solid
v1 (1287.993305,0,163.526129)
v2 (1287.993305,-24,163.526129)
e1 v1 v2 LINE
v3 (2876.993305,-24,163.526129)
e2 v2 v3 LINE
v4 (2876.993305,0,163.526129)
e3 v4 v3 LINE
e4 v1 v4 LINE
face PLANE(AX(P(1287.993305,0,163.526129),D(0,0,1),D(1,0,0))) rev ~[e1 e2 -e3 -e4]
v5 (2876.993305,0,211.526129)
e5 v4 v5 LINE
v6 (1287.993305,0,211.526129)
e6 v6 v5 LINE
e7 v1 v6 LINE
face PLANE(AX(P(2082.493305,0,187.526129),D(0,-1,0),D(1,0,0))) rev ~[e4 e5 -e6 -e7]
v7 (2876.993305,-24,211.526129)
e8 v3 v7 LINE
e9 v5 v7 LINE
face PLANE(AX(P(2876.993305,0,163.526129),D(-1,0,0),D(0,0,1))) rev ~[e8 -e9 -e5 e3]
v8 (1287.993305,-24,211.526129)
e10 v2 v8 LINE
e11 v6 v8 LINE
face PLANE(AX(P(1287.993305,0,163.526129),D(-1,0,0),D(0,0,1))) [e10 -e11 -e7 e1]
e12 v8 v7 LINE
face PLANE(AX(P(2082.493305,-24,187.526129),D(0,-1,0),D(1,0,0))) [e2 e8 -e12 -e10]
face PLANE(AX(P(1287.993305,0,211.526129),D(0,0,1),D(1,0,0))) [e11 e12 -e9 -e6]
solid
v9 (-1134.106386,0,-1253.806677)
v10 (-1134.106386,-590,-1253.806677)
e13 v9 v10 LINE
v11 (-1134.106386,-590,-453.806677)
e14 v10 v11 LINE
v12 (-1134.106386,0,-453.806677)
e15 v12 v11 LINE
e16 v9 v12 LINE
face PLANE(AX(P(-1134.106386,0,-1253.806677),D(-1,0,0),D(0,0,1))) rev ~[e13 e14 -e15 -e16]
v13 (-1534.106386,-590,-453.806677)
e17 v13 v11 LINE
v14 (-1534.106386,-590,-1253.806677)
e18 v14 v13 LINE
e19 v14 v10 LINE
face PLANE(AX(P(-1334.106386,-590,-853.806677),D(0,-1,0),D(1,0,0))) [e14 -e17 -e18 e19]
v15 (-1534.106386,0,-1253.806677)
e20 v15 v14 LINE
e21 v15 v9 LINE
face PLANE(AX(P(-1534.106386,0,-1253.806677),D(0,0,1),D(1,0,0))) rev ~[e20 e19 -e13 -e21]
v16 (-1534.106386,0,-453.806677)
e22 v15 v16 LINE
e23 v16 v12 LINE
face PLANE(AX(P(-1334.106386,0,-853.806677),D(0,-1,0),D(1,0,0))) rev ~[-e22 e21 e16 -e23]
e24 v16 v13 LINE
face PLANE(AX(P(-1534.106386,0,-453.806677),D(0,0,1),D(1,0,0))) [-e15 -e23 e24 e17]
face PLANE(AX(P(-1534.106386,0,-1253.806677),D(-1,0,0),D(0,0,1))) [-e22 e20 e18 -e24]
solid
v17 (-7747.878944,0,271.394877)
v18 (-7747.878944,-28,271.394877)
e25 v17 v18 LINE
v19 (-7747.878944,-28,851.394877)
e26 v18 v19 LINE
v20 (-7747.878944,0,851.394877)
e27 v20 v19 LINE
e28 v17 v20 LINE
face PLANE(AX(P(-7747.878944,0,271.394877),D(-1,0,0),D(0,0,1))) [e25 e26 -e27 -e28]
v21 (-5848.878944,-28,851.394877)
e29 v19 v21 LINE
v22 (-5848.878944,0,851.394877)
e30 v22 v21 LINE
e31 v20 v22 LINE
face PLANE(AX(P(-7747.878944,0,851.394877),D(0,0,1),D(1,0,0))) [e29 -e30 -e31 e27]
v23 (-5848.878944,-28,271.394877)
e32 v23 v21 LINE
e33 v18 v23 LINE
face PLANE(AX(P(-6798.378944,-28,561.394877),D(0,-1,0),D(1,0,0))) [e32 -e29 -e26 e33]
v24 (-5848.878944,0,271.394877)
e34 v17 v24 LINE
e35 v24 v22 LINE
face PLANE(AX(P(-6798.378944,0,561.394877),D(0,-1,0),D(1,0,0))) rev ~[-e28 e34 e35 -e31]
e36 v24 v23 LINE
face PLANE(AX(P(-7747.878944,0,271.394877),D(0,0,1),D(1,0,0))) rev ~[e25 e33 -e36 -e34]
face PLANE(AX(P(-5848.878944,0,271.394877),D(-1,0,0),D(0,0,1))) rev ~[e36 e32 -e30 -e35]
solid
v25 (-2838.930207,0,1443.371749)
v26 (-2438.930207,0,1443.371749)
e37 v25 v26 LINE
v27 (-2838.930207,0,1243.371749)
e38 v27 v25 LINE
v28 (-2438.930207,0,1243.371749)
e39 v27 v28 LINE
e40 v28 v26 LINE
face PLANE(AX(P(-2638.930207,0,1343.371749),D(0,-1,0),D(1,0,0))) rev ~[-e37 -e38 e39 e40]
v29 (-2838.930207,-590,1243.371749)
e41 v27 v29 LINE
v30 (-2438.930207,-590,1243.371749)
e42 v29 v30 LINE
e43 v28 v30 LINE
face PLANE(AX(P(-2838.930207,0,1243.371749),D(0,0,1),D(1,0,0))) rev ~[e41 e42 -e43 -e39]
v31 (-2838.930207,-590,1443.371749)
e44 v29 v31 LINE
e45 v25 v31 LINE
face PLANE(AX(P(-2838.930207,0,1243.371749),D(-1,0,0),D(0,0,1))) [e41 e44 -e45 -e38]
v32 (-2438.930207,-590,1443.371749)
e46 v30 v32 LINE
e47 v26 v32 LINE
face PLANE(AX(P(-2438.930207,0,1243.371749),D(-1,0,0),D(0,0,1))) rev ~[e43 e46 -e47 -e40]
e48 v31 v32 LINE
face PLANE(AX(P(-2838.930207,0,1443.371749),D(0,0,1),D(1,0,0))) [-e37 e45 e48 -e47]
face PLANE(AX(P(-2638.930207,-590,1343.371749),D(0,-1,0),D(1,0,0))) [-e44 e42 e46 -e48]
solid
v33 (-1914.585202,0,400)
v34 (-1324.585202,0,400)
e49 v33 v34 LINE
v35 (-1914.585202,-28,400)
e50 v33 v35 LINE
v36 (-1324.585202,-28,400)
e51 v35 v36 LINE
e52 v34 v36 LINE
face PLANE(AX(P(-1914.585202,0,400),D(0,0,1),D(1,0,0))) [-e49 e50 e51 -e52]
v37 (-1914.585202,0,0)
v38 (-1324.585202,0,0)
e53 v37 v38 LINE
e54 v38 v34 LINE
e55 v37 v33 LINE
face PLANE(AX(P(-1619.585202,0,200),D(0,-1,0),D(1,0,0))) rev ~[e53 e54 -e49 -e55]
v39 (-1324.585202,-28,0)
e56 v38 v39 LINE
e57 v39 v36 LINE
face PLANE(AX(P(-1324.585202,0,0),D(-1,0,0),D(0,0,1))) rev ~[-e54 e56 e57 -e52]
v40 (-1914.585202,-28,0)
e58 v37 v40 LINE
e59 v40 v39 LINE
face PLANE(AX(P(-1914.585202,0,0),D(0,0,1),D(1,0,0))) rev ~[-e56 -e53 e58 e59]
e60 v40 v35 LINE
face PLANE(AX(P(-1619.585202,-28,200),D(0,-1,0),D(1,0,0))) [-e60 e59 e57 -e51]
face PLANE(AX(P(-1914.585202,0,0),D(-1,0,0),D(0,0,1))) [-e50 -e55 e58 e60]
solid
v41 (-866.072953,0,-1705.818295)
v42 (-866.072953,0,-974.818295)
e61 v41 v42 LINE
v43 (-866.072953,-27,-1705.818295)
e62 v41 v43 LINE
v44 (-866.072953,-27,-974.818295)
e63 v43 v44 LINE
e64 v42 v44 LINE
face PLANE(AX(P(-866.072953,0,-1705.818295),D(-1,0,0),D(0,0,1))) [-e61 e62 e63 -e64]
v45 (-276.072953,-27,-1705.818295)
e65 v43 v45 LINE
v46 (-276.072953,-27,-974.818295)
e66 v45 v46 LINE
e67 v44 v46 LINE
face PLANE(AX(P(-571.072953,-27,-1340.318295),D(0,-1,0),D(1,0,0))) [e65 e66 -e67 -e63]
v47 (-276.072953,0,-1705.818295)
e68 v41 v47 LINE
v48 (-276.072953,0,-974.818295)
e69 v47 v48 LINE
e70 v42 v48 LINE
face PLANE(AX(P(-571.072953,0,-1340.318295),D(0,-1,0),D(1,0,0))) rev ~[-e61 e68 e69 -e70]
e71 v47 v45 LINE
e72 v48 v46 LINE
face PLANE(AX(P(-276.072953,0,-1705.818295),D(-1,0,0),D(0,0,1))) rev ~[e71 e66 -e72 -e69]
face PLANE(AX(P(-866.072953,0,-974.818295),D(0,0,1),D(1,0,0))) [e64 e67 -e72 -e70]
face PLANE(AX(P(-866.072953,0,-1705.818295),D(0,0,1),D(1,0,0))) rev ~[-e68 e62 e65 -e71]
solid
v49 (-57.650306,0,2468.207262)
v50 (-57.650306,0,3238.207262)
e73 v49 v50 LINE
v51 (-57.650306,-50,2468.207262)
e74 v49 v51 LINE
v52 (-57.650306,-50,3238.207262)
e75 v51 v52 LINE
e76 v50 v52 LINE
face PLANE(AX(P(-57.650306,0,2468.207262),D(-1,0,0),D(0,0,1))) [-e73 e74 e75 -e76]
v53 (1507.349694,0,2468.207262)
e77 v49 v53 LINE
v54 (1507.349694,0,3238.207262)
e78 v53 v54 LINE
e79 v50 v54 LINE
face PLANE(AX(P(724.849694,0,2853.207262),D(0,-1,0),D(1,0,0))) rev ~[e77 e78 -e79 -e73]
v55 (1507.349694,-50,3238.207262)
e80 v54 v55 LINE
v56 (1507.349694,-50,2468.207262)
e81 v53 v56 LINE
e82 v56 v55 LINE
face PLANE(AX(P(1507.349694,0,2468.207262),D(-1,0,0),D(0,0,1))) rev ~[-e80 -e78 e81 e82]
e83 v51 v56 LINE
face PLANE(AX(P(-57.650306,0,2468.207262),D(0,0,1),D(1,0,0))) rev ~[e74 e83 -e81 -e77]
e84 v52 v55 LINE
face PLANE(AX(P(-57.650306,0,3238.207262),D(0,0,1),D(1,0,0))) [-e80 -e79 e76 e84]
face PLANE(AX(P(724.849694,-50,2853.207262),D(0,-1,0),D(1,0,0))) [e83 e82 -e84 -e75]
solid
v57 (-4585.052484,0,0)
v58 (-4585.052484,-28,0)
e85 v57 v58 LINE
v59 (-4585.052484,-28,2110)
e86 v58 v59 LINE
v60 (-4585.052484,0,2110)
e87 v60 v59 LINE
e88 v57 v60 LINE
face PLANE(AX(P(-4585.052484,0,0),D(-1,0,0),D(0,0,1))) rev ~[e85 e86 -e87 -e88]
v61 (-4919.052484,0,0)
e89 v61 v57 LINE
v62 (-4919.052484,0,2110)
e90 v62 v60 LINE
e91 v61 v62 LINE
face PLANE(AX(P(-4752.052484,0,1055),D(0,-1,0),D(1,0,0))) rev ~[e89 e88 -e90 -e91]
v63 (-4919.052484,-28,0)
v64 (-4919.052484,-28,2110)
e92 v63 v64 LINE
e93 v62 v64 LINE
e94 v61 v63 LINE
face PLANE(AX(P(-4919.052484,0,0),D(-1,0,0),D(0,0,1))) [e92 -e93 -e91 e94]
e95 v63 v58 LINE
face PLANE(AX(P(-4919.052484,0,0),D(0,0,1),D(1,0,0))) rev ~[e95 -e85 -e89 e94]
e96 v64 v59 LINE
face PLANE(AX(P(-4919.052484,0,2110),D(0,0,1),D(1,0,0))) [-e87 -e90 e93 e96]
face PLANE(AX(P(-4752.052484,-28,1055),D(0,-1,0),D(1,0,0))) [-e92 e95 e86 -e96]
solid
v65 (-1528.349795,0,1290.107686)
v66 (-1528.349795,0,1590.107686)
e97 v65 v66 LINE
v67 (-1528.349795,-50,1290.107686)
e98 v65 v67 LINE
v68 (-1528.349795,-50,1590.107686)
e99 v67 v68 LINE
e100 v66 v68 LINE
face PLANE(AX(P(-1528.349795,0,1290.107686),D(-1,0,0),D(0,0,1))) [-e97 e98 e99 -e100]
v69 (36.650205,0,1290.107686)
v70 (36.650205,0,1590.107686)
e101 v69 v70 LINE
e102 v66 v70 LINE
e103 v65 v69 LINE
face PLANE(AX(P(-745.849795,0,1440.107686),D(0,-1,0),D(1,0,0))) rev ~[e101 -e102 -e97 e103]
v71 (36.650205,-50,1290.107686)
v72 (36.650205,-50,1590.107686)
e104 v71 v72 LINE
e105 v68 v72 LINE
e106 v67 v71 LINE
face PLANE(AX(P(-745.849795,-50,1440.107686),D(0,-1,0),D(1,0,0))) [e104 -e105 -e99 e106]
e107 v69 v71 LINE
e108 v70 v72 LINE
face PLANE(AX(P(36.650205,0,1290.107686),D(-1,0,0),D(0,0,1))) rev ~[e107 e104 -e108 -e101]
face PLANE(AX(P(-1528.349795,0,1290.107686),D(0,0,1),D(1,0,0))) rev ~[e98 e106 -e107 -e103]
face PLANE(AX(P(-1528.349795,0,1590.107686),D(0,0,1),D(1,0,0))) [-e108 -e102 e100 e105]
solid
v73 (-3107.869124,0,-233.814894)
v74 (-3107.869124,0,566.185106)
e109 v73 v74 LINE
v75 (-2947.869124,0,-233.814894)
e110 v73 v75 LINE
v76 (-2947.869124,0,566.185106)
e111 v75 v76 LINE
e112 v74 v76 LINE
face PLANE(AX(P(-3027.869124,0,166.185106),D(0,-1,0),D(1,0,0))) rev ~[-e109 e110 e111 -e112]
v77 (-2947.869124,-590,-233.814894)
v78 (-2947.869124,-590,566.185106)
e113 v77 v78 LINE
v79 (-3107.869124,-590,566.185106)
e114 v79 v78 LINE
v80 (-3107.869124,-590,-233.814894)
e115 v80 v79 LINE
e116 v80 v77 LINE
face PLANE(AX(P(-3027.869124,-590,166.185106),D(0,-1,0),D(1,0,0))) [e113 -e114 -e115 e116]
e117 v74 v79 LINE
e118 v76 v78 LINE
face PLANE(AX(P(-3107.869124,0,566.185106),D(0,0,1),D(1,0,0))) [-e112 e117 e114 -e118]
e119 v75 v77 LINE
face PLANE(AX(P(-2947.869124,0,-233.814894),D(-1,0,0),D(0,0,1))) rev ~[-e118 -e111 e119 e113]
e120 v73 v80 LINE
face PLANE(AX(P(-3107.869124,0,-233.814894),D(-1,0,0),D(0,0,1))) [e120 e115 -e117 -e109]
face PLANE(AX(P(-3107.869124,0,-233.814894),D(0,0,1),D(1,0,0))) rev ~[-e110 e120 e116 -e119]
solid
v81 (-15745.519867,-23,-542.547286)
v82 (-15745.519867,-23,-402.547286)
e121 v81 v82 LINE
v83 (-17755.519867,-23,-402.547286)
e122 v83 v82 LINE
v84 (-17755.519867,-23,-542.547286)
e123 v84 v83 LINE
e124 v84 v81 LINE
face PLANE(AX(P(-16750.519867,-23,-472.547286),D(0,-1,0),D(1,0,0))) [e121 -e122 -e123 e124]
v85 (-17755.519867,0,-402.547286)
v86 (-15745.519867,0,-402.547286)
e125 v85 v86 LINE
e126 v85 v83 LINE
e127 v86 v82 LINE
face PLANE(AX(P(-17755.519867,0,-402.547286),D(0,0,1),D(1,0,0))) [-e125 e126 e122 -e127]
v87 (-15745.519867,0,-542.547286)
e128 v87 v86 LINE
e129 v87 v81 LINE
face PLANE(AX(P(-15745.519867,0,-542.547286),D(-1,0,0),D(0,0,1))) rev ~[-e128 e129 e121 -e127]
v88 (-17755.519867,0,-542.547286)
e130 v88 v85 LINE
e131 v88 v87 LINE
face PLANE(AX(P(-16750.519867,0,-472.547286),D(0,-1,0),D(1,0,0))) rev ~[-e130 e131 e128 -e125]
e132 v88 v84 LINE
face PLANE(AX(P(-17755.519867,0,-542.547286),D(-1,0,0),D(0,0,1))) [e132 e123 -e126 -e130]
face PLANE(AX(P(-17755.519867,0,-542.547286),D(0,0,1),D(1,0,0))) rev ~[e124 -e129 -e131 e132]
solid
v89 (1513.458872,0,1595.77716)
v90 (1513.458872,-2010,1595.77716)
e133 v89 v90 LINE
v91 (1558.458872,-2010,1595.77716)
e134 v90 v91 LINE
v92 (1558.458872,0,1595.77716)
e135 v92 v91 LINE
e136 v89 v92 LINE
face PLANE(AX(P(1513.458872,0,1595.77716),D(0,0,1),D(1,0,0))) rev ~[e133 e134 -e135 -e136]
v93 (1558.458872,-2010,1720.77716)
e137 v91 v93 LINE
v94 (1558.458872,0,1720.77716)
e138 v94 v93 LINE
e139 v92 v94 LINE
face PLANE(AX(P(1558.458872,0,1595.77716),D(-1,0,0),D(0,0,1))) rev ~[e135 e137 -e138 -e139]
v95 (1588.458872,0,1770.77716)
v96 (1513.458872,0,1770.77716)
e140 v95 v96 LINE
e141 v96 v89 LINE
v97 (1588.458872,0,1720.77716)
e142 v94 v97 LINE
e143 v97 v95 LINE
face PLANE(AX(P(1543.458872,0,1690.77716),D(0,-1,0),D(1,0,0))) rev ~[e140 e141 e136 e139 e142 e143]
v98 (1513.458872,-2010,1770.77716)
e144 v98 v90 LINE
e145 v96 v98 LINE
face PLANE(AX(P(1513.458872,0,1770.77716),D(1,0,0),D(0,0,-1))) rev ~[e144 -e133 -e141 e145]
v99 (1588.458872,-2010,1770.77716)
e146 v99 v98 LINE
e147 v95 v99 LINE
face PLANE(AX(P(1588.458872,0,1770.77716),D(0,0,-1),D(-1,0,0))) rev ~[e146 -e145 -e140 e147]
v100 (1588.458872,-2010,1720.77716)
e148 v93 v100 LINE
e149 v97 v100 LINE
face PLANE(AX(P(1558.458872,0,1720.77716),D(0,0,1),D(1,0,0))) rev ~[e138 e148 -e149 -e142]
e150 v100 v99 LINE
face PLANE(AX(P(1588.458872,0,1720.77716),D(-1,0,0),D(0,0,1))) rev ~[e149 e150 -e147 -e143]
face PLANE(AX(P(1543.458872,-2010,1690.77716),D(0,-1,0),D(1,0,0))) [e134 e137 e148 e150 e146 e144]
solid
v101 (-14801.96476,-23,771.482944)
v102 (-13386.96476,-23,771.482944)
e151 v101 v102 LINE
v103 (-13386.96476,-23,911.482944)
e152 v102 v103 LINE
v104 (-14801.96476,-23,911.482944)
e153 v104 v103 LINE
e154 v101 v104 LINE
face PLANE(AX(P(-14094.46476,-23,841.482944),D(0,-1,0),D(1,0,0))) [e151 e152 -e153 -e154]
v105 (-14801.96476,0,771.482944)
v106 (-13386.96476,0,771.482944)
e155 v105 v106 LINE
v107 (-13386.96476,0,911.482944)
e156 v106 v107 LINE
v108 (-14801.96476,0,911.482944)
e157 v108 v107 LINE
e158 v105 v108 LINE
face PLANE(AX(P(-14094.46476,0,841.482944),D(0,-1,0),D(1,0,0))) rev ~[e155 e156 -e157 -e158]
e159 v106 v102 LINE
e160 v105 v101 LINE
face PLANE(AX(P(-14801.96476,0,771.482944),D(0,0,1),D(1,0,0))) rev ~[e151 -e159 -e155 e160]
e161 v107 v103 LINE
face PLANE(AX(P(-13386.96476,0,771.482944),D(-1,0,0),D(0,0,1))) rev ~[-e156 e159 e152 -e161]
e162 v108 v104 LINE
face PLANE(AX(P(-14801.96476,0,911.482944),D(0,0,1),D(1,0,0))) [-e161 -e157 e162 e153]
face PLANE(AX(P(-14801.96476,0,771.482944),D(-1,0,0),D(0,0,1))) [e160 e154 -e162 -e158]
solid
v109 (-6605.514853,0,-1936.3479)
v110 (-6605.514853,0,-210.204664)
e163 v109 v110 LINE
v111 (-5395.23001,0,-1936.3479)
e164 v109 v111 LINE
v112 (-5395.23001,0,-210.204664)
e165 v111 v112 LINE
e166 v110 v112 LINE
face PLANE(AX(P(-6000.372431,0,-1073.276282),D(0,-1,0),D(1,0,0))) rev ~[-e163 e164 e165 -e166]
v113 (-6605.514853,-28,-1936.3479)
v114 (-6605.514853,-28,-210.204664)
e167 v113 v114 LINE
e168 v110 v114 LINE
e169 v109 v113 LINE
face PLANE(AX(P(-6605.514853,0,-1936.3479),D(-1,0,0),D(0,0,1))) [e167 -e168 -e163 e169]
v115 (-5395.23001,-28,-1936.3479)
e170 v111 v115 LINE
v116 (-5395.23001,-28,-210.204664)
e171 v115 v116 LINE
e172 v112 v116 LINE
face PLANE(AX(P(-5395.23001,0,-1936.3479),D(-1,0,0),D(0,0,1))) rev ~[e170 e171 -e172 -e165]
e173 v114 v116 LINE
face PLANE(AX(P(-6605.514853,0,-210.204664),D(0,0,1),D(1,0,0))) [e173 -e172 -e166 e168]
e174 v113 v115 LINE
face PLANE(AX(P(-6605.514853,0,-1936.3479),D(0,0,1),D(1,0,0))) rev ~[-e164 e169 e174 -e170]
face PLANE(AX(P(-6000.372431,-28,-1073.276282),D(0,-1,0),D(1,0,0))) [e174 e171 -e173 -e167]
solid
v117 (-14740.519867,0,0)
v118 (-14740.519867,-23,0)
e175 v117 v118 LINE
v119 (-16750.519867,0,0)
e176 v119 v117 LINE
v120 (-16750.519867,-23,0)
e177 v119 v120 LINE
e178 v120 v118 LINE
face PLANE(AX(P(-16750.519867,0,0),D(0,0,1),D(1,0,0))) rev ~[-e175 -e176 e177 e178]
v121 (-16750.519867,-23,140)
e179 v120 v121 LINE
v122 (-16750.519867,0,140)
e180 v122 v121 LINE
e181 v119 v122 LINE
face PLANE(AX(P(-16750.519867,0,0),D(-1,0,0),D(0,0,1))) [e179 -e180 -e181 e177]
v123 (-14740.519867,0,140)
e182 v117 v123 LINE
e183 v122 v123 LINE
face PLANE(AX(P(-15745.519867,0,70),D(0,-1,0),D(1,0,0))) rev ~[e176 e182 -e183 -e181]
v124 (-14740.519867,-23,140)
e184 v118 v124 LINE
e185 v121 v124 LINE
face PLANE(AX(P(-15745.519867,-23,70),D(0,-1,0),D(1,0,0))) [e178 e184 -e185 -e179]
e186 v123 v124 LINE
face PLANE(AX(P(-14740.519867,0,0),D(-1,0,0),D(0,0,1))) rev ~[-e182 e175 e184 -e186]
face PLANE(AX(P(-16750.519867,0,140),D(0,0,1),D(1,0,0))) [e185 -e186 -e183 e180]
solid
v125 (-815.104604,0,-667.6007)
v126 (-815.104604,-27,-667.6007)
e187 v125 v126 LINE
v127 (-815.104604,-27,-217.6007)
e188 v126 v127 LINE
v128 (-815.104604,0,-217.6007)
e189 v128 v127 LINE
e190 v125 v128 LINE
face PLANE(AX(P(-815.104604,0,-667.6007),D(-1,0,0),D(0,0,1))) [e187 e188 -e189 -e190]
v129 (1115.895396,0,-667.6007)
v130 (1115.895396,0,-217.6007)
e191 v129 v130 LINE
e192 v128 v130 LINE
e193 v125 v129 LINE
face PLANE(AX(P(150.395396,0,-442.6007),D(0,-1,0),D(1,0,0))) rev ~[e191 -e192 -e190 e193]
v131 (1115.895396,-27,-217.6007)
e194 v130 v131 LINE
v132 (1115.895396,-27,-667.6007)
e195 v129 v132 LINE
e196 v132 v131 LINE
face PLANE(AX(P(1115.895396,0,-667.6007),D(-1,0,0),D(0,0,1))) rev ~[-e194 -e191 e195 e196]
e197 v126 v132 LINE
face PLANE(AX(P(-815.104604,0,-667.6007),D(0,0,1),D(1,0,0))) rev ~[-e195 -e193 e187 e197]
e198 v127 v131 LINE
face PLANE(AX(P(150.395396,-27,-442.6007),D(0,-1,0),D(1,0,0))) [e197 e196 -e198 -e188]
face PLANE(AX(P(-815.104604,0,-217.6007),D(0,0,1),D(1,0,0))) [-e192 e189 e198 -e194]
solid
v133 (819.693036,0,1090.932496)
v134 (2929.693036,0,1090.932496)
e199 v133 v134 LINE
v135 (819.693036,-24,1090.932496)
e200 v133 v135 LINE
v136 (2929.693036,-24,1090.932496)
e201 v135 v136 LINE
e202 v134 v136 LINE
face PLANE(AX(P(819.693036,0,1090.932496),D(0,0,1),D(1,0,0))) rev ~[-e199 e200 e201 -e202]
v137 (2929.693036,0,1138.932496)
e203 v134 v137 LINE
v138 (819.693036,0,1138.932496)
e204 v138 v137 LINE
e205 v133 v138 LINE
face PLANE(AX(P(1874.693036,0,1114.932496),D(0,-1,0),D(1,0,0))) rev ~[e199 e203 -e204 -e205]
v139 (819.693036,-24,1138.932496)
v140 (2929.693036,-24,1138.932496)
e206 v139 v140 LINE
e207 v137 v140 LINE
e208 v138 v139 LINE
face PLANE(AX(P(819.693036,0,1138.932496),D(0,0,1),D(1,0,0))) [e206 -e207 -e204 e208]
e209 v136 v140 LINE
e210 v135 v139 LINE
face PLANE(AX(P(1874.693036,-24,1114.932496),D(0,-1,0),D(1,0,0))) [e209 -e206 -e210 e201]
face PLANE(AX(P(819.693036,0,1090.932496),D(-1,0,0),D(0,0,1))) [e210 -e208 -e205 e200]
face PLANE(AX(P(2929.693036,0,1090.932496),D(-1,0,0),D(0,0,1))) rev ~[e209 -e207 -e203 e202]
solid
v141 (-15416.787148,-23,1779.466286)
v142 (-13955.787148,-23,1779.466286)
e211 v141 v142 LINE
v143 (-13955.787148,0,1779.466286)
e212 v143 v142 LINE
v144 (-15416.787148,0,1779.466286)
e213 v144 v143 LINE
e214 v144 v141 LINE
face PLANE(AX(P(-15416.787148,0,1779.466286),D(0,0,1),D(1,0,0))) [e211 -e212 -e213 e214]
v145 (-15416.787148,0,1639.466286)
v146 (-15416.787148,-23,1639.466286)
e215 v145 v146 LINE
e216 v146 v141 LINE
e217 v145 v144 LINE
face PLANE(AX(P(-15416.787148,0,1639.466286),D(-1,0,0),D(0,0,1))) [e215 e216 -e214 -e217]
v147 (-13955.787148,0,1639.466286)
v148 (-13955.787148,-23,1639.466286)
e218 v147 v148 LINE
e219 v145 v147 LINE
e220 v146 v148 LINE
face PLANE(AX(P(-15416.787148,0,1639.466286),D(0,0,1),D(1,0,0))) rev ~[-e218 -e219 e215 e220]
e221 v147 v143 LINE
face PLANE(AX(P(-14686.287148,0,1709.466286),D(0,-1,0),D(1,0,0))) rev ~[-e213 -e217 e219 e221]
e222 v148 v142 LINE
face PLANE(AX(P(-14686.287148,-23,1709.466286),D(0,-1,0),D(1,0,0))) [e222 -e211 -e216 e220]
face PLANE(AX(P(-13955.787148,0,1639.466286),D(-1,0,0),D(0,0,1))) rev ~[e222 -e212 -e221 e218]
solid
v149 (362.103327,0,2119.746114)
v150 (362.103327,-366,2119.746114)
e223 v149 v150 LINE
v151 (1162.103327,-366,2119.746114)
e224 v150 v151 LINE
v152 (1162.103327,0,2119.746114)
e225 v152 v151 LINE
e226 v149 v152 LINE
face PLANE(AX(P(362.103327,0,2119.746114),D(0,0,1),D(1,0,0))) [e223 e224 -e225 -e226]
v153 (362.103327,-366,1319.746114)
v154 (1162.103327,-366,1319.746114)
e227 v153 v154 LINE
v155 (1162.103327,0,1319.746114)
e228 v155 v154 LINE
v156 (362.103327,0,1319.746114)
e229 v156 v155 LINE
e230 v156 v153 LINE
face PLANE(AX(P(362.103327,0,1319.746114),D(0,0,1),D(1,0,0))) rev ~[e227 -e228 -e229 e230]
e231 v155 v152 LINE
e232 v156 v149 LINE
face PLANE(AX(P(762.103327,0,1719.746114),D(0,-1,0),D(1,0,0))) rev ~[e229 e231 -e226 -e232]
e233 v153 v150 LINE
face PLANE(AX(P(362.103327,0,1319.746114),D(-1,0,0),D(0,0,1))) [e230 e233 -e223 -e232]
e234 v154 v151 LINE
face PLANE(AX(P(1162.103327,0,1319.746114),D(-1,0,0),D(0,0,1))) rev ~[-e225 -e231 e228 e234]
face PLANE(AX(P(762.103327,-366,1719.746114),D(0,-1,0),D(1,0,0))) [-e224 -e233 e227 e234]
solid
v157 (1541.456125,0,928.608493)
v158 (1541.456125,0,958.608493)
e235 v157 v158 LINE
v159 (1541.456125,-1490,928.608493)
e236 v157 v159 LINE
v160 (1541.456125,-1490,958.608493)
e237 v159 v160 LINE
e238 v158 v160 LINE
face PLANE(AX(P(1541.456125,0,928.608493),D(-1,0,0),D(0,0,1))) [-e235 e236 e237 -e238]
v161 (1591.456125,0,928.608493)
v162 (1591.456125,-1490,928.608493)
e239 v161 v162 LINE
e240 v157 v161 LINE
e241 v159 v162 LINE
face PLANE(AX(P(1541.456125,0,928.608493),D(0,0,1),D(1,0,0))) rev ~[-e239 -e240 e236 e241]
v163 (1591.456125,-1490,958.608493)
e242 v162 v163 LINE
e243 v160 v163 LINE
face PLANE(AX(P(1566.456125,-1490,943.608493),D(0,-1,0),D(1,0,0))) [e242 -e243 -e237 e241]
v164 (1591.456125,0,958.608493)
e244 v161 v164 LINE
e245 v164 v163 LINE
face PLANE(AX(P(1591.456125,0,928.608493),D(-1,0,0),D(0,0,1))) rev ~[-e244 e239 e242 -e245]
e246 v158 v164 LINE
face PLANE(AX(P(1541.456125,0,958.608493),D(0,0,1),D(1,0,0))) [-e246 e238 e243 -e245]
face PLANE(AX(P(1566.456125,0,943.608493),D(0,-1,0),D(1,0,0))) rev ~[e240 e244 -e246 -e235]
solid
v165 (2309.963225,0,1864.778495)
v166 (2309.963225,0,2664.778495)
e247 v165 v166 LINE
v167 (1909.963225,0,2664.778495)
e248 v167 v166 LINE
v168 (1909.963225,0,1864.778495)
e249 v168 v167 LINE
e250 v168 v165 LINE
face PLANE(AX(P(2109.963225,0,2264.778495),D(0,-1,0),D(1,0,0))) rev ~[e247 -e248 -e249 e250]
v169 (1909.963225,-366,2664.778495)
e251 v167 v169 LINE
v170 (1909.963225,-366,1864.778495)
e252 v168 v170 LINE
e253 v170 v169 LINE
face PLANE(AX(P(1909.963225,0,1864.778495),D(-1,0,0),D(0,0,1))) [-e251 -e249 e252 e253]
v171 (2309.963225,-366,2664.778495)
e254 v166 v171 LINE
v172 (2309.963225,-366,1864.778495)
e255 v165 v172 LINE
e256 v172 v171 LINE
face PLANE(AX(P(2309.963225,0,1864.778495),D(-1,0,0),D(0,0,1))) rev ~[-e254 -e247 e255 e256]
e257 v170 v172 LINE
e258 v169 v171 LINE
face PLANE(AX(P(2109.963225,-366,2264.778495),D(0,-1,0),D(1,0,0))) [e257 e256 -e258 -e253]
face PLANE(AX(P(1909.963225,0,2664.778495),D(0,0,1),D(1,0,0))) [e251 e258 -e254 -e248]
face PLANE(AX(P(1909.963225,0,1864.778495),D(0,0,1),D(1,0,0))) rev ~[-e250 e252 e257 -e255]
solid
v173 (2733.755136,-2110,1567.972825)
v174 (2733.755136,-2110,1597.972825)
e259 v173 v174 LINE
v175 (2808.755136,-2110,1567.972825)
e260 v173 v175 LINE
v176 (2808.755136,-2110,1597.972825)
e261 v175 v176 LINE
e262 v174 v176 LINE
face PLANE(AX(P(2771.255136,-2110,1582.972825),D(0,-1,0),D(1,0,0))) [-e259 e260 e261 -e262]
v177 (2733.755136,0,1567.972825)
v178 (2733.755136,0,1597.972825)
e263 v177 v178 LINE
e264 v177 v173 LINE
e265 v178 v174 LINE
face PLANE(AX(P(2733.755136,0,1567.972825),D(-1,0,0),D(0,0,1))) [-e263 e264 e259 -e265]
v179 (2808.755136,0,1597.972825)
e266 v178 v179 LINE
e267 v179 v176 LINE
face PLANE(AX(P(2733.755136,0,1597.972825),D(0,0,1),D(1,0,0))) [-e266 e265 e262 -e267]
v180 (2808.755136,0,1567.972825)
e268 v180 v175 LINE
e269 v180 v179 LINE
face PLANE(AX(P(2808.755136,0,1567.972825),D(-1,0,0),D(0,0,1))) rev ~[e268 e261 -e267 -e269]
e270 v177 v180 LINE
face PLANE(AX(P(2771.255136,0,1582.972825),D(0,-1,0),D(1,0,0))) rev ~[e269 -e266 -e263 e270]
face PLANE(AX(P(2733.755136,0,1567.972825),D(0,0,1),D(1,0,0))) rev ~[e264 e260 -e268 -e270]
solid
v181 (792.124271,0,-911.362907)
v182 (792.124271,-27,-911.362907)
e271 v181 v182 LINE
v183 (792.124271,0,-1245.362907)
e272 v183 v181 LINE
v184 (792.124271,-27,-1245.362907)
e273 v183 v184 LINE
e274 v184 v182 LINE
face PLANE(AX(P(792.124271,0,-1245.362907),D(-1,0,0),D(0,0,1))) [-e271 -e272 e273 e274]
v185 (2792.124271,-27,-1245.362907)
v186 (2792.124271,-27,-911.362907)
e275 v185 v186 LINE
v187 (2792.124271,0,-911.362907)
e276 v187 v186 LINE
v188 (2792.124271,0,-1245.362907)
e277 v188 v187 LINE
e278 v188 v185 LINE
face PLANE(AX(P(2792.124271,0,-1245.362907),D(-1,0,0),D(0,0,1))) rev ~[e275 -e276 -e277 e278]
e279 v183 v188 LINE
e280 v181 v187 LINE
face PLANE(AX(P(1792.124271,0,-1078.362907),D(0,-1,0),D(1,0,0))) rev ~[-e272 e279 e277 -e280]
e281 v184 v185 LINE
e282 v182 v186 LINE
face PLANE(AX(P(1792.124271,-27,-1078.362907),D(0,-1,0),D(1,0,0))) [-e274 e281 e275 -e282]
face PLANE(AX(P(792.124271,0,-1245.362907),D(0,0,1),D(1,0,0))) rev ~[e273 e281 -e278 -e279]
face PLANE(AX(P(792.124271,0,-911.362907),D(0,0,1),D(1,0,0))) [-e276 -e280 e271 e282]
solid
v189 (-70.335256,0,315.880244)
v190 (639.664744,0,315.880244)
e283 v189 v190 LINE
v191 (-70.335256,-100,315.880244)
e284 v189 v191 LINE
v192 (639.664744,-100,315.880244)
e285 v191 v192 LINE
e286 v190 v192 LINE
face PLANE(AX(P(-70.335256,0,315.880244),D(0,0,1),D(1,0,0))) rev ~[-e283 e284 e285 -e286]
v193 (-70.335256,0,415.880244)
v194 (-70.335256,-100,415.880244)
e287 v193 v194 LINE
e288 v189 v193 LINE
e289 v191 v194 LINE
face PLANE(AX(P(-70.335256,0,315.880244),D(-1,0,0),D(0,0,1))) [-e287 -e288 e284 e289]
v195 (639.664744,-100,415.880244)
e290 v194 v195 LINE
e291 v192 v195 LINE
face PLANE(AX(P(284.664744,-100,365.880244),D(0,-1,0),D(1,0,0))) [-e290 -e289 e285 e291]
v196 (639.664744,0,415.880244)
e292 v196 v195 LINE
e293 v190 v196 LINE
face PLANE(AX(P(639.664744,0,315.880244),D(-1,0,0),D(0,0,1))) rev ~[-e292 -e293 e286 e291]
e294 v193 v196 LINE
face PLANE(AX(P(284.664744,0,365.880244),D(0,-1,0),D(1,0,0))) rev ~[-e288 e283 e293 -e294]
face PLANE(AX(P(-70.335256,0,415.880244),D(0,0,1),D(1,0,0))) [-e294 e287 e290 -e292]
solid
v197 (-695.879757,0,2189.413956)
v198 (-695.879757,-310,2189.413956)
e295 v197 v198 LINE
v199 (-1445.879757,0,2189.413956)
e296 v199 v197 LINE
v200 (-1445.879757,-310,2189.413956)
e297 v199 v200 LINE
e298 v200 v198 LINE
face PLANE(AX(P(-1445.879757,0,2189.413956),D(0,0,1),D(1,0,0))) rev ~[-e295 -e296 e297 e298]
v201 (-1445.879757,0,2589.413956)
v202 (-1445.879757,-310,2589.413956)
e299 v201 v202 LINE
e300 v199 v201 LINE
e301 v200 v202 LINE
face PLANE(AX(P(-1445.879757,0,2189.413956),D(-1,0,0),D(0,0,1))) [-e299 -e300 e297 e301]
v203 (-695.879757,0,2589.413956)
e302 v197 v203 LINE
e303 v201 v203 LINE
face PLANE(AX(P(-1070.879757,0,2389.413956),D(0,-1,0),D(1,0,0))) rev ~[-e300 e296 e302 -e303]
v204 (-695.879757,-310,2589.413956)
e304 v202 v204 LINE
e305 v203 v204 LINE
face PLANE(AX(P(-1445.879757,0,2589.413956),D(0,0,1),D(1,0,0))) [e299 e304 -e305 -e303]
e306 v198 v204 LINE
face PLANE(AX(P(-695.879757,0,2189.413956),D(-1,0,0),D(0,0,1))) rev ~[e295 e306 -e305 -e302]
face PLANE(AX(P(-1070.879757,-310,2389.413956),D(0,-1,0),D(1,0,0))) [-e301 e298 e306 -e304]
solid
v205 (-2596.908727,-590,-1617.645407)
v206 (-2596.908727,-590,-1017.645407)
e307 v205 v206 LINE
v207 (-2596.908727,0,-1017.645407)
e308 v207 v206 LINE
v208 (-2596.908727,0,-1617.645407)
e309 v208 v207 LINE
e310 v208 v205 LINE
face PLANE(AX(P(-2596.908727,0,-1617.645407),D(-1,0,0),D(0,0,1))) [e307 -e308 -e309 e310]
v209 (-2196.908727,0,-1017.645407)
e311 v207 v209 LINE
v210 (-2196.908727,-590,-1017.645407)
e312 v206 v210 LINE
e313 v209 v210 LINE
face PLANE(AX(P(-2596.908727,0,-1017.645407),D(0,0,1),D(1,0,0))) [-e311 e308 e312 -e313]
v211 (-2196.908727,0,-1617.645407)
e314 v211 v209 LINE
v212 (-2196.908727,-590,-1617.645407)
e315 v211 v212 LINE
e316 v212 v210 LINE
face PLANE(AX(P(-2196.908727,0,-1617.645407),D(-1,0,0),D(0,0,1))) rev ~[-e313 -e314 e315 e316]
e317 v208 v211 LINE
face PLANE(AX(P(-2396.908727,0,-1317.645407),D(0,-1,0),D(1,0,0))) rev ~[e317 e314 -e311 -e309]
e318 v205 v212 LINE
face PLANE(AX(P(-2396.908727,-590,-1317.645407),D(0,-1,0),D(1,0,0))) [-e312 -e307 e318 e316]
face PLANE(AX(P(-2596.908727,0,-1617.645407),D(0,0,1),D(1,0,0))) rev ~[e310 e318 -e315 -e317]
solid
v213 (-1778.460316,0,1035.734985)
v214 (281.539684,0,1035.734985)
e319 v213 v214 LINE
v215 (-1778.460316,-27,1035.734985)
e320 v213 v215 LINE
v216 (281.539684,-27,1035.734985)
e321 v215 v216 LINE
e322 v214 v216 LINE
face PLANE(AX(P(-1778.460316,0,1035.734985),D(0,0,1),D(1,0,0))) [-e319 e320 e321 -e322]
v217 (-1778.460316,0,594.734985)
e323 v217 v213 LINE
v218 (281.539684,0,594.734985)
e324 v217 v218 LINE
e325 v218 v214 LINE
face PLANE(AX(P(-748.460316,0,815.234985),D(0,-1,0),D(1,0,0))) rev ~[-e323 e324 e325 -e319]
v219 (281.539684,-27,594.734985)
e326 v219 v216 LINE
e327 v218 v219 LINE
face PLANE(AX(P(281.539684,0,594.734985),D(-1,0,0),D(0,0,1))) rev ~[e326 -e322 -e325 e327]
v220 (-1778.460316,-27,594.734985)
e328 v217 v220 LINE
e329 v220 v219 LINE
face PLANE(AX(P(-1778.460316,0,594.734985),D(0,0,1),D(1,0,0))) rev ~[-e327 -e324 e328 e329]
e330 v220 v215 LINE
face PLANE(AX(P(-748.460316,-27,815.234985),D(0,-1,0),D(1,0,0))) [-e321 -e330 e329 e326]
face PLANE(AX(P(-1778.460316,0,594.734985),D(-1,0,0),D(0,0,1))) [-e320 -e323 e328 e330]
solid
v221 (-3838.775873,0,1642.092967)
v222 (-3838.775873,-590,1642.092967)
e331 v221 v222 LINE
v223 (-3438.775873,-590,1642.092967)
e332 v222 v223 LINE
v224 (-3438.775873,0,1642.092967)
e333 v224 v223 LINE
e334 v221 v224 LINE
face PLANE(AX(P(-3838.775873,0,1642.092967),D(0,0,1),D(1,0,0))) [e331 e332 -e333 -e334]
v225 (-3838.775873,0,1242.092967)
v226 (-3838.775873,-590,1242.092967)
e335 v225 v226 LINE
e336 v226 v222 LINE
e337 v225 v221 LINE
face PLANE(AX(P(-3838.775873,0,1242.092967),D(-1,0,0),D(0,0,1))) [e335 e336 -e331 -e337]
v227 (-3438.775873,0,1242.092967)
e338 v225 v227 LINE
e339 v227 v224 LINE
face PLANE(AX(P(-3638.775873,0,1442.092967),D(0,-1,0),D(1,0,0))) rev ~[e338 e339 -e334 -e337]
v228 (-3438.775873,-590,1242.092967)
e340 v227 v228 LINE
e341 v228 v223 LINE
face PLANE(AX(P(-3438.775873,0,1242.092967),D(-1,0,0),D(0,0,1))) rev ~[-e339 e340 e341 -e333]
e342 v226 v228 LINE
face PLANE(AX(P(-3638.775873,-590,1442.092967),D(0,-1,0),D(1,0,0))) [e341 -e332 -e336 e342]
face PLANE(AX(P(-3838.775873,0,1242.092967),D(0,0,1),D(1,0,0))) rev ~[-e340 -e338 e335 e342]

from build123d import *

# Parameters (mm, degrees)
F0_W      = 710
F0_H      = 100
F1_DEPTH  = 100
F2_W      = 2000
F2_H      = 334
F3_DEPTH  = 27
F4_W      = 1565
F4_H      = 770
F4_H_2    = 300
F5_DEPTH  = 50
F7_DEPTH  = 2010
F8_W      = 2110
F8_H      = 48
F9_DEPTH  = 24
F10_W     = 1589
F10_H     = 48
F11_DEPTH = 24
F12_W     = 1899
F12_H     = 580
F12_W_2   = 334
F12_H_2   = 2110
F12_W_3   = 1210.284843
F12_H_3   = 1726.143237
F13_DEPTH = 28
F14_W     = 800
F14_H     = 800
F15_DEPTH = 366
F16_W     = 400
F16_H     = 800
F17_DEPTH = 366
F18_W     = 750
F18_H     = 400
F19_DEPTH = 310
F20_W     = 75
F20_H     = 30
F21_DEPTH = 2110
F22_W     = 400
F22_H     = 200
F22_H_2   = 400
F23_DEPTH = 590
F24_W     = 400
F24_H     = 600
F25_DEPTH = 590
F26_W     = 590
F26_H     = 400
F27_DEPTH = 28
F28_W     = 160
F28_H     = 800
F29_DEPTH = 590
F30_W     = 400
F30_H     = 800
F31_DEPTH = 590
F32_W     = 2060
F32_H     = 441
F32_W_2   = 1931
F32_H_2   = 450
F32_W_3   = 590
F32_H_3   = 731
F33_DEPTH = 27
F34_W     = 50
F34_H     = 30
F35_DEPTH = 1490
F36_W     = 1415
F36_H     = 140
F36_W_2   = 2010
F36_W_3   = 1461
F37_DEPTH = 23


with BuildPart() as f1:
    # F0 (on Front) → F1 (new body)
    with BuildSketch(Plane.XZ):
        with Locations((284.664744, 365.880244)):
            Rectangle(F0_W, F0_H)
    extrude(amount=F1_DEPTH)


with BuildPart() as f3:
    # F2 (on Front) → F3 (new body)
    with BuildSketch(Plane.XZ):
        with Locations((1792.124271, -1078.362907)):
            Rectangle(F2_W, F2_H)
    extrude(amount=F3_DEPTH)


with BuildPart() as f5:
    # F4 (on Front) → F5 (new body)
    with BuildSketch(Plane.XZ):
        with Locations((724.849694, 2853.207262)):
            Rectangle(F4_W, F4_H)
        with Locations((-745.849795, 1440.107686)):
            Rectangle(F4_W, F4_H_2)
    extrude(amount=F5_DEPTH)


with BuildPart() as f7:
    # F6 (on Front) → F7 (new body)
    with BuildSketch(Plane.XZ):
        Polygon((1513.458872, 1595.77716), (1558.458872, 1595.77716), (1558.458872, 1720.77716), (1588.458872, 1720.77716), (1588.458872, 1770.77716), (1513.458872, 1770.77716), align=None)
    extrude(amount=F7_DEPTH)


with BuildPart() as f9:
    # F8 (on Front) → F9 (new body)
    with BuildSketch(Plane.XZ):
        with Locations((1874.693036, 1114.932496)):
            Rectangle(F8_W, F8_H)
    extrude(amount=F9_DEPTH)


with BuildPart() as f11:
    # F10 (on Front) → F11 (new body)
    with BuildSketch(Plane.XZ):
        with Locations((2082.493305, 187.526129)):
            Rectangle(F10_W, F10_H)
    extrude(amount=F11_DEPTH)


with BuildPart() as f13:
    # F12 (on Front) → F13 (new body)
    with BuildSketch(Plane.XZ):
        with Locations((-6798.378944, 561.394877)):
            Rectangle(F12_W, F12_H)
        with Locations((-4752.052484, 1055)):
            Rectangle(F12_W_2, F12_H_2)
        with Locations((-6000.372431, -1073.276282)):
            Rectangle(F12_W_3, F12_H_3)
    extrude(amount=F13_DEPTH)


with BuildPart() as f15:
    # F14 (on Front) → F15 (new body)
    with BuildSketch(Plane.XZ):
        with Locations((762.103327, 1719.746114)):
            Rectangle(F14_W, F14_H)
    extrude(amount=F15_DEPTH)


with BuildPart() as f17:
    # F16 (on Front) → F17 (new body)
    with BuildSketch(Plane.XZ):
        with Locations((2109.963225, 2264.778495)):
            Rectangle(F16_W, F16_H)
    extrude(amount=F17_DEPTH)


with BuildPart() as f19:
    # F18 (on Front) → F19 (new body)
    with BuildSketch(Plane.XZ):
        with Locations((-1070.879757, 2389.413956)):
            Rectangle(F18_W, F18_H)
    extrude(amount=F19_DEPTH)


with BuildPart() as f21:
    # F20 (on Front) → F21 (new body)
    with BuildSketch(Plane.XZ):
        with Locations((2771.255136, 1582.972825)):
            Rectangle(F20_W, F20_H)
    extrude(amount=F21_DEPTH)


with BuildPart() as f23:
    # F22 (on Front) → F23 (new body)
    with BuildSketch(Plane.XZ):
        with Locations((-2638.930207, 1343.371749)):
            Rectangle(F22_W, F22_H)
        with Locations((-3638.775873, 1442.092967)):
            Rectangle(F22_W, F22_H_2)
    extrude(amount=F23_DEPTH)


with BuildPart() as f25:
    # F24 (on Front) → F25 (new body)
    with BuildSketch(Plane.XZ):
        with Locations((-2396.908727, -1317.645407)):
            Rectangle(F24_W, F24_H)
    extrude(amount=F25_DEPTH)


with BuildPart() as f27:
    # F26 (on Front) → F27 (new body)
    with BuildSketch(Plane.XZ):
        with Locations((-1619.585202, 200)):
            Rectangle(F26_W, F26_H)
    extrude(amount=F27_DEPTH)


with BuildPart() as f29:
    # F28 (on Front) → F29 (new body)
    with BuildSketch(Plane.XZ):
        with Locations((-3027.869124, 166.185106)):
            Rectangle(F28_W, F28_H)
    extrude(amount=F29_DEPTH)


with BuildPart() as f31:
    # F30 (on Front) → F31 (new body)
    with BuildSketch(Plane.XZ):
        with Locations((-1334.106386, -853.806677)):
            Rectangle(F30_W, F30_H)
    extrude(amount=F31_DEPTH)


with BuildPart() as f33:
    # F32 (on Front) → F33 (new body)
    with BuildSketch(Plane.XZ):
        with Locations((-748.460316, 815.234985)):
            Rectangle(F32_W, F32_H)
        with Locations((150.395396, -442.6007)):
            Rectangle(F32_W_2, F32_H_2)
        with Locations((-571.072953, -1340.318295)):
            Rectangle(F32_W_3, F32_H_3)
    extrude(amount=F33_DEPTH)


with BuildPart() as f35:
    # F34 (on Front) → F35 (new body)
    with BuildSketch(Plane.XZ):
        with Locations((1566.456125, 943.608493)):
            Rectangle(F34_W, F34_H)
    extrude(amount=F35_DEPTH)


with BuildPart() as f37:
    # F36 (on Front) → F37 (new body)
    with BuildSketch(Plane.XZ):
        with Locations((-14094.46476, 841.482944)):
            Rectangle(F36_W, F36_H)
        with Locations((-15745.519867, 70)):
            Rectangle(F36_W_2, F36_H)
        with Locations((-14686.287148, 1709.466286)):
            Rectangle(F36_W_3, F36_H)
        with Locations((-16750.519867, -472.547286)):
            Rectangle(F36_W_2, F36_H)
    extrude(amount=F37_DEPTH)


solid = Compound([f1.part, f3.part, f5.part, f7.part, f9.part, f11.part, f13.part, f15.part, f17.part, f19.part, f21.part, f23.part, f25.part, f27.part, f29.part, f31.part, f33.part, f35.part, f37.part])
